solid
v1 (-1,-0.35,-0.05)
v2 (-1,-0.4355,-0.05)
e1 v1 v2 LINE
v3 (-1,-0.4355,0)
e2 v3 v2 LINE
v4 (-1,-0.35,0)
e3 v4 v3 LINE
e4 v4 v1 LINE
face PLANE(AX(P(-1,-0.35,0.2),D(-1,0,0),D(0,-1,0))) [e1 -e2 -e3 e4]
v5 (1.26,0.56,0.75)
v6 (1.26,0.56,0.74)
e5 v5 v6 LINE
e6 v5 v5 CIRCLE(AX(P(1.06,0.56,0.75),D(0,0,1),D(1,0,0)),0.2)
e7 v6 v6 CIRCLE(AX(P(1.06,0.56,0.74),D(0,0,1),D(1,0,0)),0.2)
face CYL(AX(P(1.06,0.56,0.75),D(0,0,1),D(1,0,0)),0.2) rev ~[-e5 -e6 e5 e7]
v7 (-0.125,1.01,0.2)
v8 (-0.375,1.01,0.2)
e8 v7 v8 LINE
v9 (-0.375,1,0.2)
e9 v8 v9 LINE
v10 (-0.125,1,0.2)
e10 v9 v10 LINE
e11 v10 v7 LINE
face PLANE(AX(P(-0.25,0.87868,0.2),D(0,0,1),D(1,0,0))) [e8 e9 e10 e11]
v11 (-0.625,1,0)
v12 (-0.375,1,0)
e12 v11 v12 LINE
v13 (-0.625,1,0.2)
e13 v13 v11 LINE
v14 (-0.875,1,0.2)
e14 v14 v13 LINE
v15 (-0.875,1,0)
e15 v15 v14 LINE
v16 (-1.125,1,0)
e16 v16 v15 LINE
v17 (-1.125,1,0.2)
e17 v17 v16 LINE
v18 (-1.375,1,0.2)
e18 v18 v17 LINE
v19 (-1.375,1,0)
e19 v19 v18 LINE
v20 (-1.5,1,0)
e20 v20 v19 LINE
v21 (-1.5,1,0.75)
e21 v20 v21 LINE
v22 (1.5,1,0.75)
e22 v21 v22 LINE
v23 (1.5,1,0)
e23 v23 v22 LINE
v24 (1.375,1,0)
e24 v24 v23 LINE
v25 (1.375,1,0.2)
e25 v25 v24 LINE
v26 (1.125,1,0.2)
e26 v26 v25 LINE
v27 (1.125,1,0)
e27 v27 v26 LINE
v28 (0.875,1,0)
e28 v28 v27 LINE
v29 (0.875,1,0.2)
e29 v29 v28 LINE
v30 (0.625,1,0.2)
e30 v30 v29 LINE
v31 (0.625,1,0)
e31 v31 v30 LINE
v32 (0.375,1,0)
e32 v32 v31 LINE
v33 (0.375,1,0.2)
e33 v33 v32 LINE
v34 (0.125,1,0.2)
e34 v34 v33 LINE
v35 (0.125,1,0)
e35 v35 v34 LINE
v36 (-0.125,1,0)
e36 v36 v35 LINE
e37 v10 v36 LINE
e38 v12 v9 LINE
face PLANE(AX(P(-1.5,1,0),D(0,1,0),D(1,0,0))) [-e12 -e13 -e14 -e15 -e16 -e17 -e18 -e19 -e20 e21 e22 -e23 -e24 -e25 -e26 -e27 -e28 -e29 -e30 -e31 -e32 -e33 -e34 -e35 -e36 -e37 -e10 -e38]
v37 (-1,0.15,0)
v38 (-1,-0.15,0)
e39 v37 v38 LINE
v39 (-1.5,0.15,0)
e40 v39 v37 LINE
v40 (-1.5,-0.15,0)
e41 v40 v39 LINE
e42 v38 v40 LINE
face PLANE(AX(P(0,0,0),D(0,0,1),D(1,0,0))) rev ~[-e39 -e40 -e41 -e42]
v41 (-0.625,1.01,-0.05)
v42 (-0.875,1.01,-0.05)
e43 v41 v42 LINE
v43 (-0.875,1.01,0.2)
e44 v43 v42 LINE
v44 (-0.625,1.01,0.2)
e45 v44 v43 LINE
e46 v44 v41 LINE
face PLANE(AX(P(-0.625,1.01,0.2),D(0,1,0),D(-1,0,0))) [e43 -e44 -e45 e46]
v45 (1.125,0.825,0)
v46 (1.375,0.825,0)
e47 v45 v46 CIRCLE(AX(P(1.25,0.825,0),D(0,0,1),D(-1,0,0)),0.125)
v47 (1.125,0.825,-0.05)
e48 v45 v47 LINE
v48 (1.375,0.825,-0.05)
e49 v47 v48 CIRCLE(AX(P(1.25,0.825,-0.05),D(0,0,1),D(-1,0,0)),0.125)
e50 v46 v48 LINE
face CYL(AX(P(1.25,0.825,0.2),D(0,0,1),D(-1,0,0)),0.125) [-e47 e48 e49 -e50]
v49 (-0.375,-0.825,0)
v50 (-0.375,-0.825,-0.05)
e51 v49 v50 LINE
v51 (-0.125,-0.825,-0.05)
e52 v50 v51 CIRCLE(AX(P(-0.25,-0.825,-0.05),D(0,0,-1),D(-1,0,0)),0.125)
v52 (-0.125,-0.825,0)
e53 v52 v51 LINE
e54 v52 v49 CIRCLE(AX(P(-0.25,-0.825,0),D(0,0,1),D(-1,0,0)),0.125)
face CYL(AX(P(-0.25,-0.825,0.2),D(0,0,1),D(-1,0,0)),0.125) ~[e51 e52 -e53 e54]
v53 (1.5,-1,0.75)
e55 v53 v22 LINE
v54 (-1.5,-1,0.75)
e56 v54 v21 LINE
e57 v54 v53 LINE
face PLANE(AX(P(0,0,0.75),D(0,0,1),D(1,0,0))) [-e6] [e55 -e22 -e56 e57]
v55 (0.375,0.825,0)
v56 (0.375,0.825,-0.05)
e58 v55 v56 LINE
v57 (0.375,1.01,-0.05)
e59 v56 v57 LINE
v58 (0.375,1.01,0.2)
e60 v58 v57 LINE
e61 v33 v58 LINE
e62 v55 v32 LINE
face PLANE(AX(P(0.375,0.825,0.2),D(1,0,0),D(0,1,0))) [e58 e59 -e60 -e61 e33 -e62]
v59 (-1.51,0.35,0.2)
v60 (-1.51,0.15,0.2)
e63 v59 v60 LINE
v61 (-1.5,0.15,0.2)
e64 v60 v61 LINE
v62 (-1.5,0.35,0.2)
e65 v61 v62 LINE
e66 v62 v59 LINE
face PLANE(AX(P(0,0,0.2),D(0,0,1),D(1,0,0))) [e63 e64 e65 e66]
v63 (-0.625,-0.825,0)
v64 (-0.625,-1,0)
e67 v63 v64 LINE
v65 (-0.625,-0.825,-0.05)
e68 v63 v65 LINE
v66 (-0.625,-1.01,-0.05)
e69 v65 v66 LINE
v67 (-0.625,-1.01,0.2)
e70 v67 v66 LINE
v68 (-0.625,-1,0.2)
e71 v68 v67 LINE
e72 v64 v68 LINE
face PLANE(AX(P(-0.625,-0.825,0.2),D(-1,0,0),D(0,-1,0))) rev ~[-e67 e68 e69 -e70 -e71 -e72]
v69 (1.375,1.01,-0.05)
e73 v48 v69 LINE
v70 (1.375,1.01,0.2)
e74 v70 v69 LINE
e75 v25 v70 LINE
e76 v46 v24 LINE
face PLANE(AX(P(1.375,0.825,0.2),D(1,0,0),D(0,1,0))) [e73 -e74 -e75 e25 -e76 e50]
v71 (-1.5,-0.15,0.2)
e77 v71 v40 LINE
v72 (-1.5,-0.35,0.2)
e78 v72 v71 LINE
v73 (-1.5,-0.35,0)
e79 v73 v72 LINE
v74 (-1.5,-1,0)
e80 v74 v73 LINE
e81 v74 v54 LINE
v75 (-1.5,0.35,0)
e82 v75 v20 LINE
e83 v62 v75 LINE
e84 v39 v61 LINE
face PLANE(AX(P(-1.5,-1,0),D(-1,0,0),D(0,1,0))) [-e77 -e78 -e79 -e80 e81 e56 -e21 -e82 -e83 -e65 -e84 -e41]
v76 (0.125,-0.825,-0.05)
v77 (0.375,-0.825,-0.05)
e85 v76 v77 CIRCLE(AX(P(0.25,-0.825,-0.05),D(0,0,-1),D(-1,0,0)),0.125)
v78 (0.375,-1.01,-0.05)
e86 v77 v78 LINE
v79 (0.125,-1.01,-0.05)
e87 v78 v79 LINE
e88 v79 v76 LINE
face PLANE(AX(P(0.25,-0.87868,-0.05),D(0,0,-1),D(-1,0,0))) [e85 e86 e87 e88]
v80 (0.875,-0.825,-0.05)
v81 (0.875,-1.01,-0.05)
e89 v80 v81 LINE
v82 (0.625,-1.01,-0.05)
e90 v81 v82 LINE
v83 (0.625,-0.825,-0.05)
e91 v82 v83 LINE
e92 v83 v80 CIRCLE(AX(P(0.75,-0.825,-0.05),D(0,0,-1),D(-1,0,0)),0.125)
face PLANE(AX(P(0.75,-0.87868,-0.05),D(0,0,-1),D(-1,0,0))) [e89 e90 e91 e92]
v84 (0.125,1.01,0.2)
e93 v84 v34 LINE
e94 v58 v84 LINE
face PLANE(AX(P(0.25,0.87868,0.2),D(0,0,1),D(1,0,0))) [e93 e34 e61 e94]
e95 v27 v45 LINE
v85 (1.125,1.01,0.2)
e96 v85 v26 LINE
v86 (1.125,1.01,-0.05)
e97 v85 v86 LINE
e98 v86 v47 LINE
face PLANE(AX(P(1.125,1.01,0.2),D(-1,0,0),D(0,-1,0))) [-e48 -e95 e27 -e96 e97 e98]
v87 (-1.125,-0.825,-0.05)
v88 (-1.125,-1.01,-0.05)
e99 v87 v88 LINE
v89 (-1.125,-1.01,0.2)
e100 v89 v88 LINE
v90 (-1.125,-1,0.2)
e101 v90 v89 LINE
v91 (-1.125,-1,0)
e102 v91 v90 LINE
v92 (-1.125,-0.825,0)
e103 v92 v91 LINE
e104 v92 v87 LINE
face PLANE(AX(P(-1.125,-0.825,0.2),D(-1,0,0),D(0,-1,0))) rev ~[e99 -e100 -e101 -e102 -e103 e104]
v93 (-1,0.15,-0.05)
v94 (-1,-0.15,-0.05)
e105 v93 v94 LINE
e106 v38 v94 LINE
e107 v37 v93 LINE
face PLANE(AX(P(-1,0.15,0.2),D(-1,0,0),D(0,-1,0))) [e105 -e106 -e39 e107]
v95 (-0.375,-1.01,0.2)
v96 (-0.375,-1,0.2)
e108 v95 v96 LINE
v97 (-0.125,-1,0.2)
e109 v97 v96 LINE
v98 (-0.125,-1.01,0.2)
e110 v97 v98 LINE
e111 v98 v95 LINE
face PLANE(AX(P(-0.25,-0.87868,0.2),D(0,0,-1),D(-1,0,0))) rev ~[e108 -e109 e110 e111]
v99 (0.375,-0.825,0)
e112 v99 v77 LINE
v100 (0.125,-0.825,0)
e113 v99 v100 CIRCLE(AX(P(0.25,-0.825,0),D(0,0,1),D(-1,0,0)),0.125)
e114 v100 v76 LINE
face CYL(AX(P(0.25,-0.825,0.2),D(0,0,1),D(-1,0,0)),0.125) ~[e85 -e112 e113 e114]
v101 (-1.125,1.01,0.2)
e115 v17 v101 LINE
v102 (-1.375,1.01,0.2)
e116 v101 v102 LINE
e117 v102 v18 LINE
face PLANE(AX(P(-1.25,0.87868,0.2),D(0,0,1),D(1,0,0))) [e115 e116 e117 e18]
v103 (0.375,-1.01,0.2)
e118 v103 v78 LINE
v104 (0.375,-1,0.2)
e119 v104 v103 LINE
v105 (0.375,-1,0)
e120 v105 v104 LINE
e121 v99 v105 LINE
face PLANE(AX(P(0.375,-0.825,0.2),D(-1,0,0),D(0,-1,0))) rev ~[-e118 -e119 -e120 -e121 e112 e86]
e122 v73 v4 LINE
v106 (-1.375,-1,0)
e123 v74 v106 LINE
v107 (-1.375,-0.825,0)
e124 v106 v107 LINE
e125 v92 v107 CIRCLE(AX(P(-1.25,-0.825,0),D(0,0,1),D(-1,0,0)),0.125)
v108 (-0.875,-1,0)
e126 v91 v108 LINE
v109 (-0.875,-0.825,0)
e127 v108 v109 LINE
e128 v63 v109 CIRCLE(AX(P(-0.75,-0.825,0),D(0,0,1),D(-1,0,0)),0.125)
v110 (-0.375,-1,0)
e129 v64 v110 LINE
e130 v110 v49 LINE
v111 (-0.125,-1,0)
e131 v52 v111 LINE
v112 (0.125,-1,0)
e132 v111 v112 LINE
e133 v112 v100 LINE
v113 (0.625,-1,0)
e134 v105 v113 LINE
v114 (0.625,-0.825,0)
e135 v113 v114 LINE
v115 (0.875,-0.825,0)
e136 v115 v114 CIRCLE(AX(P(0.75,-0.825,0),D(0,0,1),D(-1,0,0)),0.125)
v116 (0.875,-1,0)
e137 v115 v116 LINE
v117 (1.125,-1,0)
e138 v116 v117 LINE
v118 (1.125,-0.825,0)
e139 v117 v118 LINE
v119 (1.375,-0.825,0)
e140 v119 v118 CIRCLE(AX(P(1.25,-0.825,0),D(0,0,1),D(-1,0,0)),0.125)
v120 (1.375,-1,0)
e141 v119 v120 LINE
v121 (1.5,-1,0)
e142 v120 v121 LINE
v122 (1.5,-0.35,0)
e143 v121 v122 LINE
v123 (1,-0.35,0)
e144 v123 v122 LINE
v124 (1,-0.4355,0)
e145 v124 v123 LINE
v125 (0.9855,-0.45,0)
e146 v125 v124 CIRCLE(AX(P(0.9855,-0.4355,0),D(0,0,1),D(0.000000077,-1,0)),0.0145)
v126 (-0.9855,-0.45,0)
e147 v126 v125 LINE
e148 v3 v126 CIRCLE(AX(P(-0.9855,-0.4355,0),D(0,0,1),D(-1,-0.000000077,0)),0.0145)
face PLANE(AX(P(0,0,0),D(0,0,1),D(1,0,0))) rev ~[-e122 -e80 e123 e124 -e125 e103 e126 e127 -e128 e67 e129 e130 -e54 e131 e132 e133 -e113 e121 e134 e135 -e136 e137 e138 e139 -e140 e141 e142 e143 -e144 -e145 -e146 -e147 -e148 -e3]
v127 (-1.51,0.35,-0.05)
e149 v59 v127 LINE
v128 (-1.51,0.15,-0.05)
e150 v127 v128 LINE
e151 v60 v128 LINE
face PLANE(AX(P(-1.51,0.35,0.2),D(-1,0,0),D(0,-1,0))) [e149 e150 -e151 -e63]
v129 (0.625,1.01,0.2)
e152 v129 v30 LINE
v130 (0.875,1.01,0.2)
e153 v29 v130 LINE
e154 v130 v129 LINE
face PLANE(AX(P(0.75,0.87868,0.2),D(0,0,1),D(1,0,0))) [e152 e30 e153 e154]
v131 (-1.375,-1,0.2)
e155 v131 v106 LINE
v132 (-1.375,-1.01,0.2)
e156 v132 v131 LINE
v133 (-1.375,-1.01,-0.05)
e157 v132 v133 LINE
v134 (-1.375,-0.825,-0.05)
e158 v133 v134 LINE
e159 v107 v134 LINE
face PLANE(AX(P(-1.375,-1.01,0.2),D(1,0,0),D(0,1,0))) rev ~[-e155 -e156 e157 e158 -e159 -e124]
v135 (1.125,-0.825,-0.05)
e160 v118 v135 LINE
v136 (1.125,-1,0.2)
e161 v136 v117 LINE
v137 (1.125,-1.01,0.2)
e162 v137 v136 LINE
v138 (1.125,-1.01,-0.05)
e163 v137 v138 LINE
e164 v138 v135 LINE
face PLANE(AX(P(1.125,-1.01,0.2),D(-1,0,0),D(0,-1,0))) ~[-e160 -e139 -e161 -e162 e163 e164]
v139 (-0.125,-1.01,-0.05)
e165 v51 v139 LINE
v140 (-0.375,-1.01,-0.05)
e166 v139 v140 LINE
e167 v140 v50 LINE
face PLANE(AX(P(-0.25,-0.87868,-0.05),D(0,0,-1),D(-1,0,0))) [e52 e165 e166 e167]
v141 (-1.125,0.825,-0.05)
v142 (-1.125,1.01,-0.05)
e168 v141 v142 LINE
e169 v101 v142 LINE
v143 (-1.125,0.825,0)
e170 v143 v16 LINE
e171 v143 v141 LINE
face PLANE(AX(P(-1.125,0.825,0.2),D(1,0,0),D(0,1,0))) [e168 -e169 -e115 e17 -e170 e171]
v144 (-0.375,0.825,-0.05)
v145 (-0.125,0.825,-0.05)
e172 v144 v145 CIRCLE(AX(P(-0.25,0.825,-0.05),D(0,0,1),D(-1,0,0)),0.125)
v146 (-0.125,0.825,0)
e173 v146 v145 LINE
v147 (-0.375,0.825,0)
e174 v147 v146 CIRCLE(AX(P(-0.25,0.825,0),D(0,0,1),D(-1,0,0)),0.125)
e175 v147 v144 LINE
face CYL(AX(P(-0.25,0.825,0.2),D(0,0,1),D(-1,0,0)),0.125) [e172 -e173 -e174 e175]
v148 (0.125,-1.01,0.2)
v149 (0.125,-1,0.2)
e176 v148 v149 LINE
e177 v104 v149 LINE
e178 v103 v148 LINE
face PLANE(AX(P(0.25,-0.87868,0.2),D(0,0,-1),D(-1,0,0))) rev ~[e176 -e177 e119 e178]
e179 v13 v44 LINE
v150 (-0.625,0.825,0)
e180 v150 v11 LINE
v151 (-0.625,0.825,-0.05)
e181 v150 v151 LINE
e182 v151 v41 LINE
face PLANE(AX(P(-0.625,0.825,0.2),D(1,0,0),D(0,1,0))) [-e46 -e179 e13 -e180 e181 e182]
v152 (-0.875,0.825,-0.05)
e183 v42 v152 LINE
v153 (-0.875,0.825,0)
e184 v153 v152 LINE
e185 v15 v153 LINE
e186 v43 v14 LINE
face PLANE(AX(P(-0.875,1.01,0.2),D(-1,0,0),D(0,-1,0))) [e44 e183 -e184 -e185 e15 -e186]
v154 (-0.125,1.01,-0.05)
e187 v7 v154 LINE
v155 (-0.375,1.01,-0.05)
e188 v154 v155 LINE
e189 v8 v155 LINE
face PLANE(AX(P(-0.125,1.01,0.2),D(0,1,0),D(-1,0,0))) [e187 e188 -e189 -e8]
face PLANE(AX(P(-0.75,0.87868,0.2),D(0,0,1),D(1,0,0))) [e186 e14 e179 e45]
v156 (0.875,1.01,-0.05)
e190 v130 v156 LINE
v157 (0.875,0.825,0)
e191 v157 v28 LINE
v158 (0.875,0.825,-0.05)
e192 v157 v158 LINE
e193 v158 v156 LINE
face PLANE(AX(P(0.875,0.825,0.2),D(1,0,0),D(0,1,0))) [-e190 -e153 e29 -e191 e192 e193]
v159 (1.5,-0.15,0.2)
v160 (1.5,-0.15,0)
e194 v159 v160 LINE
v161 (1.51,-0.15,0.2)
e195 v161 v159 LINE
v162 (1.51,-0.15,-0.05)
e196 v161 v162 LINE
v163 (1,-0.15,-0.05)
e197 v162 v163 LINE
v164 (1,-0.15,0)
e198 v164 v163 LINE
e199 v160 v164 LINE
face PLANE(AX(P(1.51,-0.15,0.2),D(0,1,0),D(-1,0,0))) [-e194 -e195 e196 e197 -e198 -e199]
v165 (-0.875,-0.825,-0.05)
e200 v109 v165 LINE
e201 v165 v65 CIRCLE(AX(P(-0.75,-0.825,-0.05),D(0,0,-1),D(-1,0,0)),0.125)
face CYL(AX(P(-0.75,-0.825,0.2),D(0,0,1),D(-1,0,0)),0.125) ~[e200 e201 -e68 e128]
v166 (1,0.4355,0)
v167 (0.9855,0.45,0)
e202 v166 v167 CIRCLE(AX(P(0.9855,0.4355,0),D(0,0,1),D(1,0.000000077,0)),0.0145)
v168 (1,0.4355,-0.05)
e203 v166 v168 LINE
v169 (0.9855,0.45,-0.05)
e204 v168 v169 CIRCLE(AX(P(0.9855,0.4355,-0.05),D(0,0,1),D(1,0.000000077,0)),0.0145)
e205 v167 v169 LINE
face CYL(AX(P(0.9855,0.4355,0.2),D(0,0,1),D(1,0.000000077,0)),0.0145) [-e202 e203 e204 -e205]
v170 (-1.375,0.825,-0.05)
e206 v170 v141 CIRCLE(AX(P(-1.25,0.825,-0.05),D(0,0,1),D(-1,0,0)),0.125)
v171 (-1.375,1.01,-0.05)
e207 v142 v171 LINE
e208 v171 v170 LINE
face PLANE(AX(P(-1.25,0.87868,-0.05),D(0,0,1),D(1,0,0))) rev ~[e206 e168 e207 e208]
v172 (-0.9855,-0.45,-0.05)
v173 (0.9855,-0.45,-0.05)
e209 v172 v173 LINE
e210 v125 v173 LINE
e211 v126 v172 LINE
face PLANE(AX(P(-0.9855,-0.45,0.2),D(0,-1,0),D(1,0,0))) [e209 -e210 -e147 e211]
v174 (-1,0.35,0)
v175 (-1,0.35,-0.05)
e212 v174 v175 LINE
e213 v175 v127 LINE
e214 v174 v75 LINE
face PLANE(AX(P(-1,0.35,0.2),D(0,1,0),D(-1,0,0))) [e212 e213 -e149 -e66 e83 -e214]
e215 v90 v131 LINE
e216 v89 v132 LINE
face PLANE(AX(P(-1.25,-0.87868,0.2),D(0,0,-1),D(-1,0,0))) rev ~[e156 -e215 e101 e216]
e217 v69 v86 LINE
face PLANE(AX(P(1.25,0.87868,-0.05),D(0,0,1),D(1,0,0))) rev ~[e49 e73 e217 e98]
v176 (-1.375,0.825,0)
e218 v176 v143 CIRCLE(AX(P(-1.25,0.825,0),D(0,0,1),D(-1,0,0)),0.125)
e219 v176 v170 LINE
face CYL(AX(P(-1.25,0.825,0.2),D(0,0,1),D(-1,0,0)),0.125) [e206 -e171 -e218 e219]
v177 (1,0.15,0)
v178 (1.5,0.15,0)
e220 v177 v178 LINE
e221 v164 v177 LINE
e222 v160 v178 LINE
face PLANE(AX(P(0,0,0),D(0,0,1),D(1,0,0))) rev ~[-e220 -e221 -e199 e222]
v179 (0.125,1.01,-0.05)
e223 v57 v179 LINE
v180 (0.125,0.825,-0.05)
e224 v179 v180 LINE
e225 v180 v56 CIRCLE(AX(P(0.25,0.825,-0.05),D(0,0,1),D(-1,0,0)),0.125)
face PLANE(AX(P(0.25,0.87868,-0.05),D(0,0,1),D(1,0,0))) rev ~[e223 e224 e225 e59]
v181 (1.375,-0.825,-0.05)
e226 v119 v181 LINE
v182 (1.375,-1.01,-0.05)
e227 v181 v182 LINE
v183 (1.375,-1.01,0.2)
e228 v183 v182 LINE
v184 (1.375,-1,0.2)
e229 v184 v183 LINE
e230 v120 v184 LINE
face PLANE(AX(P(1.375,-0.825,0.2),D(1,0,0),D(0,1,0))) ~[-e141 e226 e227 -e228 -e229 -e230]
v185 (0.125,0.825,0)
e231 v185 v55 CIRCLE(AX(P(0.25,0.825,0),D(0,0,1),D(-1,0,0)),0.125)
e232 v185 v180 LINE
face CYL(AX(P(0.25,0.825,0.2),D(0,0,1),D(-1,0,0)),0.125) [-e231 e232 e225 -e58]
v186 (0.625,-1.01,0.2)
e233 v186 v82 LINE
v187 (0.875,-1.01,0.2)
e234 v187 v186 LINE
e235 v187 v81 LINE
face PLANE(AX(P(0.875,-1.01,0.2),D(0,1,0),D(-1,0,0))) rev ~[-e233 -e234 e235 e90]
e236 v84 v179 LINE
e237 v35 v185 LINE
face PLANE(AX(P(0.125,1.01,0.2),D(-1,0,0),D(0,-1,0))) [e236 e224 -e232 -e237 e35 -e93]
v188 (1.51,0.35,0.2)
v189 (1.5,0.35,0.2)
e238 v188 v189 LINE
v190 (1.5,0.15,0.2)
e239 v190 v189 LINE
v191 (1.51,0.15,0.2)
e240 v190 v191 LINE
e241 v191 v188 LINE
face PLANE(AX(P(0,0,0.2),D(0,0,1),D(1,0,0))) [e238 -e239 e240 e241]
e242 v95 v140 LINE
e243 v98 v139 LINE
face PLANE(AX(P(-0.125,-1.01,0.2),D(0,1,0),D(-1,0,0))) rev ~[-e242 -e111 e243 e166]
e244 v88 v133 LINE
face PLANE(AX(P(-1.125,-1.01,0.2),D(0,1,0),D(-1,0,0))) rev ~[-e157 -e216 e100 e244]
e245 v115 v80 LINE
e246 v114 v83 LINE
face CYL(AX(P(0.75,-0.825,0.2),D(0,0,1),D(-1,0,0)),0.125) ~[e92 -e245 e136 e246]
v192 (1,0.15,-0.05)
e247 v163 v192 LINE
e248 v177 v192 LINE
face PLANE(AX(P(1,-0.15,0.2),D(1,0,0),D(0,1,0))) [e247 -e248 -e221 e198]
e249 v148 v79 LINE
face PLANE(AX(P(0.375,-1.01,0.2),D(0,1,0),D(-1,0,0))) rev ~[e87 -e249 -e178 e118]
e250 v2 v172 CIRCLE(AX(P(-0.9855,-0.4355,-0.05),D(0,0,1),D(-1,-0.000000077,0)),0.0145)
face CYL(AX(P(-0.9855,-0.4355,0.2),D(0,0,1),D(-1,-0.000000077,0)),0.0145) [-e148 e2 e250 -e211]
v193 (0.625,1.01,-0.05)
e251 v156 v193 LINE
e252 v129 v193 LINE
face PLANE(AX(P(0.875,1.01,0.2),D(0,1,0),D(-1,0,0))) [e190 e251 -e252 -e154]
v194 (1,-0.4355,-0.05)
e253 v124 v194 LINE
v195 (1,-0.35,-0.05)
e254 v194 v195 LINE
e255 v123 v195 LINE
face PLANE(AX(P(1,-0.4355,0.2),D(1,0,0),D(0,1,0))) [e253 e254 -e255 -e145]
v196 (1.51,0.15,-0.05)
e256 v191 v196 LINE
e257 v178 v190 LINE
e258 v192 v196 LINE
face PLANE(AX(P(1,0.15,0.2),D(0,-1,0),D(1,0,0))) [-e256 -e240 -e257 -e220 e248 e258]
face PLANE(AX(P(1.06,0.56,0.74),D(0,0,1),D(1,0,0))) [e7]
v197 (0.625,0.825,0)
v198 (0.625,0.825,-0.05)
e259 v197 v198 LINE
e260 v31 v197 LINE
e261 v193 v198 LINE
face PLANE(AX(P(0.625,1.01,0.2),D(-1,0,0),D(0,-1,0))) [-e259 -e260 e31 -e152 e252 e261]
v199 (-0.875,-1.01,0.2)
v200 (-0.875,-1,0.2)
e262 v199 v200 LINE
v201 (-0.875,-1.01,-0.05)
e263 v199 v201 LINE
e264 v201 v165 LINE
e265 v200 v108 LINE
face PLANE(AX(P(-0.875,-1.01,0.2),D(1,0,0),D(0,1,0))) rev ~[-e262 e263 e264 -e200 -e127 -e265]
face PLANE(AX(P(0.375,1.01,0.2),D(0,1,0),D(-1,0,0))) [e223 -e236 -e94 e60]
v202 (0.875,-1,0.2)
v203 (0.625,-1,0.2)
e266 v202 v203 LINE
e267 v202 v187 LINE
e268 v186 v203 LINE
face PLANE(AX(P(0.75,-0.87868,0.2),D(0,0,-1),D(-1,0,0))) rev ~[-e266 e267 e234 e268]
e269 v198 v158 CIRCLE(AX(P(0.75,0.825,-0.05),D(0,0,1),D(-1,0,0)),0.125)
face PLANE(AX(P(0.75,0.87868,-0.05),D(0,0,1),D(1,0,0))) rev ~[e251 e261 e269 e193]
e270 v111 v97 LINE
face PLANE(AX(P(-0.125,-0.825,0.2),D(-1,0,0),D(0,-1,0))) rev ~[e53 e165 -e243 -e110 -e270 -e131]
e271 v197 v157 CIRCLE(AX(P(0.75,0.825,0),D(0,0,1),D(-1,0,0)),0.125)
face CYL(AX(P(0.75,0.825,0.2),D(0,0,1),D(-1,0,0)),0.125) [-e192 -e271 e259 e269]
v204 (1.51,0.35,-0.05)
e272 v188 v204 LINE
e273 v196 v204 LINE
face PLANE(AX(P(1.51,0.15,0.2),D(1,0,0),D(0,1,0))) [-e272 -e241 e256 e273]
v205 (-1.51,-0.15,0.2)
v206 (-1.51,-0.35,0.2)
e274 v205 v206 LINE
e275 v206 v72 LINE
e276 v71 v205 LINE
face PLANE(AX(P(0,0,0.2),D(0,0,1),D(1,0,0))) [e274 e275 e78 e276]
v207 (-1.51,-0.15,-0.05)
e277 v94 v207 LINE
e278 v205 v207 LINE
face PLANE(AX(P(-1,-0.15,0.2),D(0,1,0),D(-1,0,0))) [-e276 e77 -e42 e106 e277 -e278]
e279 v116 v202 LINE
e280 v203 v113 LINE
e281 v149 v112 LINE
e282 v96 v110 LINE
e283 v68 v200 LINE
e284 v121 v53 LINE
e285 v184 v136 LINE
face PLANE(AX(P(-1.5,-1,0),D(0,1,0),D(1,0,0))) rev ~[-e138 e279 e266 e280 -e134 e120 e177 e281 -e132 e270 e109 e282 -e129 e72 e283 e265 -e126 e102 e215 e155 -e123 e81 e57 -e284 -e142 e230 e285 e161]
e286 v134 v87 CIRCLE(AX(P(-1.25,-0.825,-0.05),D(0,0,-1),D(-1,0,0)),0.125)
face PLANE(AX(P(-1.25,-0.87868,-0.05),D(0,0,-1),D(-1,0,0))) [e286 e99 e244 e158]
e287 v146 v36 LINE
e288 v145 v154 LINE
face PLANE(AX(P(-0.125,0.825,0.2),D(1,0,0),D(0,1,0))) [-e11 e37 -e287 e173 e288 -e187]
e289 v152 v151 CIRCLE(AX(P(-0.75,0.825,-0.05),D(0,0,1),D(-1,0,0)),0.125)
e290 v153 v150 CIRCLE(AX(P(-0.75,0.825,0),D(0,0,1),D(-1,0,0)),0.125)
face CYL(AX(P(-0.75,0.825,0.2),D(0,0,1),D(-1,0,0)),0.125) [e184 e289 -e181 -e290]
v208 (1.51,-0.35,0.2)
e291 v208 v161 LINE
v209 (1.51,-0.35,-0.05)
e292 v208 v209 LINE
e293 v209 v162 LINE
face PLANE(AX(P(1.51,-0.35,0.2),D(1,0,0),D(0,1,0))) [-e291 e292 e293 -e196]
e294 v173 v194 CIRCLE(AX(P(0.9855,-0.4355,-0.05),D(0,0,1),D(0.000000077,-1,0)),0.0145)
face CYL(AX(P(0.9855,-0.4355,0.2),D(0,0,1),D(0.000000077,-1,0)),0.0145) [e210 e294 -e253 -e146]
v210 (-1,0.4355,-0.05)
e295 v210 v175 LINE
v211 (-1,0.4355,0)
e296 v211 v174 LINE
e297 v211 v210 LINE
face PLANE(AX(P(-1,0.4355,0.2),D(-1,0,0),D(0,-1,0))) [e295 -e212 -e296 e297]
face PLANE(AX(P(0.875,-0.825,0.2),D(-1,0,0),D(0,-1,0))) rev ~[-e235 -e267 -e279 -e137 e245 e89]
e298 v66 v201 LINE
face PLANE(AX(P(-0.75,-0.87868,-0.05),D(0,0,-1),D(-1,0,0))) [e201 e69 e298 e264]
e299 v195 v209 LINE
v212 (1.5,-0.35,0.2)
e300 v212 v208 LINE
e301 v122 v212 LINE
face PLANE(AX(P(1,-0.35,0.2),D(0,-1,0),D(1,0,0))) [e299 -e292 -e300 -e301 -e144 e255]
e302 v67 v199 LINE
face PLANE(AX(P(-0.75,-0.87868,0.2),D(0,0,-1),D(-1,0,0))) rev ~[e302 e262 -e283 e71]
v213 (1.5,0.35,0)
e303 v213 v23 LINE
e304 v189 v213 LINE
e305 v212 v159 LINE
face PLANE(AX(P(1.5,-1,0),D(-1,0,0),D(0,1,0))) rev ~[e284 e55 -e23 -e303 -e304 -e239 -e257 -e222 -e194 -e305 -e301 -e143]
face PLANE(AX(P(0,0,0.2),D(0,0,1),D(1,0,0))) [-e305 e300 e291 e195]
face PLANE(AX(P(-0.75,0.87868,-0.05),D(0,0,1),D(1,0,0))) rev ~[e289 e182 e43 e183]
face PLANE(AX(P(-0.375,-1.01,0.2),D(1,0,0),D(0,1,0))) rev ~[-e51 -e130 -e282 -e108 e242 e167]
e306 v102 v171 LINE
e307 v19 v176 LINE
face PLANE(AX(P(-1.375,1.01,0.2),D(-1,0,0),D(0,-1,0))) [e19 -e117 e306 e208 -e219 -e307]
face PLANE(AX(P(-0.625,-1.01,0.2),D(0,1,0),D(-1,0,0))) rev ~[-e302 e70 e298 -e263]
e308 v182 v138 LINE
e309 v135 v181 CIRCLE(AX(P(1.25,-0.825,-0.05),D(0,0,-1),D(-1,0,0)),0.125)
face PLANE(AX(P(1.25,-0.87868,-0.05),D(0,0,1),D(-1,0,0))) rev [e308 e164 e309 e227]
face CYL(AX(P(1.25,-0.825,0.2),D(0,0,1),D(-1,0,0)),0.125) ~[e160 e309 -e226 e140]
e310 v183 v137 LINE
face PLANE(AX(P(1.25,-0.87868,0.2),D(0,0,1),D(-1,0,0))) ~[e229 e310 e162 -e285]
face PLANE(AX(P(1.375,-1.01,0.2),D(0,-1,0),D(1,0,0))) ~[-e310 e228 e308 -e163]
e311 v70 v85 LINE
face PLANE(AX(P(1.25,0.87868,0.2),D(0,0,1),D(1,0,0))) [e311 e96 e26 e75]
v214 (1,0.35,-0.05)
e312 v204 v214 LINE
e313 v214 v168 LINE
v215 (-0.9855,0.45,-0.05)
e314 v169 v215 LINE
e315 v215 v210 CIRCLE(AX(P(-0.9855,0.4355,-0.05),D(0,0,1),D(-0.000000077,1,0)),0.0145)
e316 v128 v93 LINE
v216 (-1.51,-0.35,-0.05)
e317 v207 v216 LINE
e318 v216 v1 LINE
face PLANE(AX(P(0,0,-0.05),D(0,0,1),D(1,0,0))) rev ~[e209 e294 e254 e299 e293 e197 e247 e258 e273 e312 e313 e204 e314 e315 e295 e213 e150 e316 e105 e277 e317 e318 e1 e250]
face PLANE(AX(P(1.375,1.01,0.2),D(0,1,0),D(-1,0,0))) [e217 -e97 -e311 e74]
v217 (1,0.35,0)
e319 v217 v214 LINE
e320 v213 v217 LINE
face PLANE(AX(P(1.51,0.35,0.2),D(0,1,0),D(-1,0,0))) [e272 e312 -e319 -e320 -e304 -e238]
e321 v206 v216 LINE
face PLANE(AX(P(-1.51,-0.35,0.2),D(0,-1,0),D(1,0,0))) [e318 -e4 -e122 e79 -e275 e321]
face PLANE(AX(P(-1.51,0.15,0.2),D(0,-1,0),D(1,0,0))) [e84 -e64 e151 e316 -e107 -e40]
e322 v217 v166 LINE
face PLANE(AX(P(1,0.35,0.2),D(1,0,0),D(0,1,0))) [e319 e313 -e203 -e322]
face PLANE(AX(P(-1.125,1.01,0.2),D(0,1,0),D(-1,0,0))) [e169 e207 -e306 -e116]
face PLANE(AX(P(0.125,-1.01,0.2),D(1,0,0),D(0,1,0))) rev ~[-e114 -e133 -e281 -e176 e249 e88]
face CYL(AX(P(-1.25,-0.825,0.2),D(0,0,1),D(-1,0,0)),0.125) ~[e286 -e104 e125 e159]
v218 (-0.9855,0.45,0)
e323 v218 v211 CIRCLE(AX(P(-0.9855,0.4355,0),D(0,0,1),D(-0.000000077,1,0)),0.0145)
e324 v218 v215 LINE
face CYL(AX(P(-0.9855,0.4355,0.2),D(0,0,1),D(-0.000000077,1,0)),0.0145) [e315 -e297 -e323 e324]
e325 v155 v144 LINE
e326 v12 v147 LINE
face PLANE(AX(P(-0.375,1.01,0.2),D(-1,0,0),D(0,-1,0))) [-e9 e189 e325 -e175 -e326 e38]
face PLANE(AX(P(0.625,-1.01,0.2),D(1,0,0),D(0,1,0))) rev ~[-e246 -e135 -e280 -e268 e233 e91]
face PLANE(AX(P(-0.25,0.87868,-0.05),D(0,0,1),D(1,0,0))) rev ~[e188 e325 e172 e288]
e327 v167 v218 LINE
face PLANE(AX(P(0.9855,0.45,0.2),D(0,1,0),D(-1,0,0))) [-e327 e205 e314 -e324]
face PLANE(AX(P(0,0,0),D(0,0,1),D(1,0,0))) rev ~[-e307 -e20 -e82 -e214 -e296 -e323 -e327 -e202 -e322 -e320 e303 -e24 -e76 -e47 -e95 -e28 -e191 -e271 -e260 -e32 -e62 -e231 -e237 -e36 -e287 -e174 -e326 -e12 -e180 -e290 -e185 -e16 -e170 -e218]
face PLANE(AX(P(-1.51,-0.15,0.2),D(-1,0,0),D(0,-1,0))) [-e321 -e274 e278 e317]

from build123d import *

# Parameters (mm, degrees)
SKETCH1_W                = 3
SKETCH1_H                = 2
BOSS_EXTRUDE1_DEPTH      = 0.75
SKETCH2_R                = 0.2
CUT_EXTRUDE1_DEPTH       = 0.01
BOSS_EXTRUDE2_DEPTH      = 0.05
BOSS_EXTRUDE2_DEPTH_BACK = 0.2
BOSS_EXTRUDE4_START      = -0.2
BOSS_EXTRUDE4_DEPTH      = 0.25
LPATTERN2_COUNT          = 6
LPATTERN2_PITCH          = 0.5
MIRROR2_START            = -0.2
MIRROR2_COPY_1_DEPTH     = 0.25
MIRROR2_COPY_2_DEPTH     = 0.25
MIRROR2_COPY_3_DEPTH     = 0.25
MIRROR2_COPY_4_DEPTH     = 0.25
MIRROR2_COPY_5_DEPTH     = 0.25


with BuildPart() as part:
    # Sketch1 → Boss-Extrude1 (new body)
    with BuildSketch(Plane.XY):
        Rectangle(SKETCH1_W, SKETCH1_H)
    extrude(amount=BOSS_EXTRUDE1_DEPTH)

    # Sketch2 → Cut-Extrude1 (cut)
    with BuildSketch(Plane.XY.offset(0.75)):
        with Locations((1.06, 0.56)):
            Circle(SKETCH2_R)
    extrude(amount=-CUT_EXTRUDE1_DEPTH, mode=Mode.SUBTRACT)

    # Sketch3 → Boss-Extrude2 (add, two sides: drawn at the far end of the back side and taken through both)
    with BuildSketch(Plane(origin=(0, 0, 0), x_dir=(-1, 0, 0), z_dir=(0, 0, -1)).offset(-BOSS_EXTRUDE2_DEPTH_BACK)):
        with BuildLine():
            Line((1, 0.35), (1.51, 0.35))
            Line((1.51, 0.35), (1.51, 0.15))
            Line((1.51, 0.15), (1, 0.15))
            Line((1, 0.15), (1, -0.15))
            Line((1, -0.15), (1.51, -0.15))
            Line((1.51, -0.15), (1.51, -0.35))
            Line((1.51, -0.35), (1, -0.35))
            Line((1, -0.35), (1, -0.4355))
            ThreePointArc((1, -0.4355), (0.995753048, -0.445753048), (0.9855, -0.45))
            Line((0.9855, -0.45), (-0.9855, -0.45))
            ThreePointArc((-0.9855, -0.45), (-0.995753048, -0.445753048), (-1, -0.4355))
            Line((-1, -0.4355), (-1, -0.35))
            Line((-1, -0.35), (-1.51, -0.35))
            Line((-1.51, -0.35), (-1.51, -0.15))
            Line((-1.51, -0.15), (-1, -0.15))
            Line((-1, -0.15), (-1, 0.15))
            Line((-1, 0.15), (-1.51, 0.15))
            Line((-1.51, 0.15), (-1.51, 0.35))
            Line((-1.51, 0.35), (-1, 0.35))
            Line((-1, 0.35), (-1, 0.4355))
            ThreePointArc((-1, 0.4355), (-0.995753048, 0.445753048), (-0.9855, 0.45))
            Line((-0.9855, 0.45), (0.9855, 0.45))
            ThreePointArc((0.9855, 0.45), (0.995753048, 0.445753048), (1, 0.4355))
            Line((1, 0.4355), (1, 0.35))
        make_face()
    extrude(amount=BOSS_EXTRUDE2_DEPTH + BOSS_EXTRUDE2_DEPTH_BACK)

    # Sketch6 → Boss-Extrude4 (add)
    with BuildSketch(Plane(origin=(0, 0, 0), x_dir=(-1, 0, 0), z_dir=(0, 0, -1)).offset(BOSS_EXTRUDE4_START)):
        with BuildLine():
            Line((-1.375, 1.01), (-1.125, 1.01))
            Line((-1.125, 1.01), (-1.125, 1))
            Line((-1.125, 1), (-1.125, 0.825))
            ThreePointArc((-1.125, 0.825), (-1.25, 0.7), (-1.375, 0.825))
            Line((-1.375, 0.825), (-1.375, 1))
            Line((-1.375, 1), (-1.375, 1.01))
        make_face()
    boss_extrude4 = extrude(amount=BOSS_EXTRUDE4_DEPTH)

    # LPattern2: Boss-Extrude4 ×6
    with Locations(*[(-i * LPATTERN2_PITCH, 0, 0) for i in range(1, LPATTERN2_COUNT)]):
        add(boss_extrude4)

    # Mirror2: Boss-Extrude4 across plane
    add(boss_extrude4.mirror(Plane.ZX))

    # Mirror2 copy 1 sketch → Mirror2 copy 1 (add)
    with BuildSketch(Plane(origin=(-0.5, 0, 0), x_dir=(-1, 0, 0), z_dir=(0, 0, -1)).offset(MIRROR2_START)):
        with BuildLine():
            Line((-1.375, -1.01), (-1.125, -1.01))
            Line((-1.125, -1.01), (-1.125, -1))
            Line((-1.125, -1), (-1.125, -0.825))
            ThreePointArc((-1.125, -0.825), (-1.25, -0.7), (-1.375, -0.825))
            Line((-1.375, -0.825), (-1.375, -1))
            Line((-1.375, -1), (-1.375, -1.01))
        make_face()
    extrude(amount=MIRROR2_COPY_1_DEPTH)

    # Mirror2 copy 2 sketch → Mirror2 copy 2 (add)
    with BuildSketch(Plane(origin=(-1, 0, 0), x_dir=(-1, 0, 0), z_dir=(0, 0, -1)).offset(MIRROR2_START)):
        with BuildLine():
            Line((-1.375, -1.01), (-1.125, -1.01))
            Line((-1.125, -1.01), (-1.125, -1))
            Line((-1.125, -1), (-1.125, -0.825))
            ThreePointArc((-1.125, -0.825), (-1.25, -0.7), (-1.375, -0.825))
            Line((-1.375, -0.825), (-1.375, -1))
            Line((-1.375, -1), (-1.375, -1.01))
        make_face()
    extrude(amount=MIRROR2_COPY_2_DEPTH)

    # Mirror2 copy 3 sketch → Mirror2 copy 3 (add)
    with BuildSketch(Plane(origin=(-1.5, 0, 0), x_dir=(-1, 0, 0), z_dir=(0, 0, -1)).offset(MIRROR2_START)):
        with BuildLine():
            Line((-1.375, -1.01), (-1.125, -1.01))
            Line((-1.125, -1.01), (-1.125, -1))
            Line((-1.125, -1), (-1.125, -0.825))
            ThreePointArc((-1.125, -0.825), (-1.25, -0.7), (-1.375, -0.825))
            Line((-1.375, -0.825), (-1.375, -1))
            Line((-1.375, -1), (-1.375, -1.01))
        make_face()
    extrude(amount=MIRROR2_COPY_3_DEPTH)

    # Mirror2 copy 4 sketch → Mirror2 copy 4 (add)
    with BuildSketch(Plane(origin=(-2, 0, 0), x_dir=(-1, 0, 0), z_dir=(0, 0, -1)).offset(MIRROR2_START)):
        with BuildLine():
            Line((-1.375, -1.01), (-1.125, -1.01))
            Line((-1.125, -1.01), (-1.125, -1))
            Line((-1.125, -1), (-1.125, -0.825))
            ThreePointArc((-1.125, -0.825), (-1.25, -0.7), (-1.375, -0.825))
            Line((-1.375, -0.825), (-1.375, -1))
            Line((-1.375, -1), (-1.375, -1.01))
        make_face()
    extrude(amount=MIRROR2_COPY_4_DEPTH)

    # Mirror2 copy 5 sketch → Mirror2 copy 5 (add)
    with BuildSketch(Plane(origin=(-2.5, 0, 0), x_dir=(-1, 0, 0), z_dir=(0, 0, -1)).offset(MIRROR2_START)):
        with BuildLine():
            Line((-1.375, -1.01), (-1.125, -1.01))
            Line((-1.125, -1.01), (-1.125, -1))
            Line((-1.125, -1), (-1.125, -0.825))
            ThreePointArc((-1.125, -0.825), (-1.25, -0.7), (-1.375, -0.825))
            Line((-1.375, -0.825), (-1.375, -1))
            Line((-1.375, -1), (-1.375, -1.01))
        make_face()
    extrude(amount=MIRROR2_COPY_5_DEPTH)


solid = part.part
